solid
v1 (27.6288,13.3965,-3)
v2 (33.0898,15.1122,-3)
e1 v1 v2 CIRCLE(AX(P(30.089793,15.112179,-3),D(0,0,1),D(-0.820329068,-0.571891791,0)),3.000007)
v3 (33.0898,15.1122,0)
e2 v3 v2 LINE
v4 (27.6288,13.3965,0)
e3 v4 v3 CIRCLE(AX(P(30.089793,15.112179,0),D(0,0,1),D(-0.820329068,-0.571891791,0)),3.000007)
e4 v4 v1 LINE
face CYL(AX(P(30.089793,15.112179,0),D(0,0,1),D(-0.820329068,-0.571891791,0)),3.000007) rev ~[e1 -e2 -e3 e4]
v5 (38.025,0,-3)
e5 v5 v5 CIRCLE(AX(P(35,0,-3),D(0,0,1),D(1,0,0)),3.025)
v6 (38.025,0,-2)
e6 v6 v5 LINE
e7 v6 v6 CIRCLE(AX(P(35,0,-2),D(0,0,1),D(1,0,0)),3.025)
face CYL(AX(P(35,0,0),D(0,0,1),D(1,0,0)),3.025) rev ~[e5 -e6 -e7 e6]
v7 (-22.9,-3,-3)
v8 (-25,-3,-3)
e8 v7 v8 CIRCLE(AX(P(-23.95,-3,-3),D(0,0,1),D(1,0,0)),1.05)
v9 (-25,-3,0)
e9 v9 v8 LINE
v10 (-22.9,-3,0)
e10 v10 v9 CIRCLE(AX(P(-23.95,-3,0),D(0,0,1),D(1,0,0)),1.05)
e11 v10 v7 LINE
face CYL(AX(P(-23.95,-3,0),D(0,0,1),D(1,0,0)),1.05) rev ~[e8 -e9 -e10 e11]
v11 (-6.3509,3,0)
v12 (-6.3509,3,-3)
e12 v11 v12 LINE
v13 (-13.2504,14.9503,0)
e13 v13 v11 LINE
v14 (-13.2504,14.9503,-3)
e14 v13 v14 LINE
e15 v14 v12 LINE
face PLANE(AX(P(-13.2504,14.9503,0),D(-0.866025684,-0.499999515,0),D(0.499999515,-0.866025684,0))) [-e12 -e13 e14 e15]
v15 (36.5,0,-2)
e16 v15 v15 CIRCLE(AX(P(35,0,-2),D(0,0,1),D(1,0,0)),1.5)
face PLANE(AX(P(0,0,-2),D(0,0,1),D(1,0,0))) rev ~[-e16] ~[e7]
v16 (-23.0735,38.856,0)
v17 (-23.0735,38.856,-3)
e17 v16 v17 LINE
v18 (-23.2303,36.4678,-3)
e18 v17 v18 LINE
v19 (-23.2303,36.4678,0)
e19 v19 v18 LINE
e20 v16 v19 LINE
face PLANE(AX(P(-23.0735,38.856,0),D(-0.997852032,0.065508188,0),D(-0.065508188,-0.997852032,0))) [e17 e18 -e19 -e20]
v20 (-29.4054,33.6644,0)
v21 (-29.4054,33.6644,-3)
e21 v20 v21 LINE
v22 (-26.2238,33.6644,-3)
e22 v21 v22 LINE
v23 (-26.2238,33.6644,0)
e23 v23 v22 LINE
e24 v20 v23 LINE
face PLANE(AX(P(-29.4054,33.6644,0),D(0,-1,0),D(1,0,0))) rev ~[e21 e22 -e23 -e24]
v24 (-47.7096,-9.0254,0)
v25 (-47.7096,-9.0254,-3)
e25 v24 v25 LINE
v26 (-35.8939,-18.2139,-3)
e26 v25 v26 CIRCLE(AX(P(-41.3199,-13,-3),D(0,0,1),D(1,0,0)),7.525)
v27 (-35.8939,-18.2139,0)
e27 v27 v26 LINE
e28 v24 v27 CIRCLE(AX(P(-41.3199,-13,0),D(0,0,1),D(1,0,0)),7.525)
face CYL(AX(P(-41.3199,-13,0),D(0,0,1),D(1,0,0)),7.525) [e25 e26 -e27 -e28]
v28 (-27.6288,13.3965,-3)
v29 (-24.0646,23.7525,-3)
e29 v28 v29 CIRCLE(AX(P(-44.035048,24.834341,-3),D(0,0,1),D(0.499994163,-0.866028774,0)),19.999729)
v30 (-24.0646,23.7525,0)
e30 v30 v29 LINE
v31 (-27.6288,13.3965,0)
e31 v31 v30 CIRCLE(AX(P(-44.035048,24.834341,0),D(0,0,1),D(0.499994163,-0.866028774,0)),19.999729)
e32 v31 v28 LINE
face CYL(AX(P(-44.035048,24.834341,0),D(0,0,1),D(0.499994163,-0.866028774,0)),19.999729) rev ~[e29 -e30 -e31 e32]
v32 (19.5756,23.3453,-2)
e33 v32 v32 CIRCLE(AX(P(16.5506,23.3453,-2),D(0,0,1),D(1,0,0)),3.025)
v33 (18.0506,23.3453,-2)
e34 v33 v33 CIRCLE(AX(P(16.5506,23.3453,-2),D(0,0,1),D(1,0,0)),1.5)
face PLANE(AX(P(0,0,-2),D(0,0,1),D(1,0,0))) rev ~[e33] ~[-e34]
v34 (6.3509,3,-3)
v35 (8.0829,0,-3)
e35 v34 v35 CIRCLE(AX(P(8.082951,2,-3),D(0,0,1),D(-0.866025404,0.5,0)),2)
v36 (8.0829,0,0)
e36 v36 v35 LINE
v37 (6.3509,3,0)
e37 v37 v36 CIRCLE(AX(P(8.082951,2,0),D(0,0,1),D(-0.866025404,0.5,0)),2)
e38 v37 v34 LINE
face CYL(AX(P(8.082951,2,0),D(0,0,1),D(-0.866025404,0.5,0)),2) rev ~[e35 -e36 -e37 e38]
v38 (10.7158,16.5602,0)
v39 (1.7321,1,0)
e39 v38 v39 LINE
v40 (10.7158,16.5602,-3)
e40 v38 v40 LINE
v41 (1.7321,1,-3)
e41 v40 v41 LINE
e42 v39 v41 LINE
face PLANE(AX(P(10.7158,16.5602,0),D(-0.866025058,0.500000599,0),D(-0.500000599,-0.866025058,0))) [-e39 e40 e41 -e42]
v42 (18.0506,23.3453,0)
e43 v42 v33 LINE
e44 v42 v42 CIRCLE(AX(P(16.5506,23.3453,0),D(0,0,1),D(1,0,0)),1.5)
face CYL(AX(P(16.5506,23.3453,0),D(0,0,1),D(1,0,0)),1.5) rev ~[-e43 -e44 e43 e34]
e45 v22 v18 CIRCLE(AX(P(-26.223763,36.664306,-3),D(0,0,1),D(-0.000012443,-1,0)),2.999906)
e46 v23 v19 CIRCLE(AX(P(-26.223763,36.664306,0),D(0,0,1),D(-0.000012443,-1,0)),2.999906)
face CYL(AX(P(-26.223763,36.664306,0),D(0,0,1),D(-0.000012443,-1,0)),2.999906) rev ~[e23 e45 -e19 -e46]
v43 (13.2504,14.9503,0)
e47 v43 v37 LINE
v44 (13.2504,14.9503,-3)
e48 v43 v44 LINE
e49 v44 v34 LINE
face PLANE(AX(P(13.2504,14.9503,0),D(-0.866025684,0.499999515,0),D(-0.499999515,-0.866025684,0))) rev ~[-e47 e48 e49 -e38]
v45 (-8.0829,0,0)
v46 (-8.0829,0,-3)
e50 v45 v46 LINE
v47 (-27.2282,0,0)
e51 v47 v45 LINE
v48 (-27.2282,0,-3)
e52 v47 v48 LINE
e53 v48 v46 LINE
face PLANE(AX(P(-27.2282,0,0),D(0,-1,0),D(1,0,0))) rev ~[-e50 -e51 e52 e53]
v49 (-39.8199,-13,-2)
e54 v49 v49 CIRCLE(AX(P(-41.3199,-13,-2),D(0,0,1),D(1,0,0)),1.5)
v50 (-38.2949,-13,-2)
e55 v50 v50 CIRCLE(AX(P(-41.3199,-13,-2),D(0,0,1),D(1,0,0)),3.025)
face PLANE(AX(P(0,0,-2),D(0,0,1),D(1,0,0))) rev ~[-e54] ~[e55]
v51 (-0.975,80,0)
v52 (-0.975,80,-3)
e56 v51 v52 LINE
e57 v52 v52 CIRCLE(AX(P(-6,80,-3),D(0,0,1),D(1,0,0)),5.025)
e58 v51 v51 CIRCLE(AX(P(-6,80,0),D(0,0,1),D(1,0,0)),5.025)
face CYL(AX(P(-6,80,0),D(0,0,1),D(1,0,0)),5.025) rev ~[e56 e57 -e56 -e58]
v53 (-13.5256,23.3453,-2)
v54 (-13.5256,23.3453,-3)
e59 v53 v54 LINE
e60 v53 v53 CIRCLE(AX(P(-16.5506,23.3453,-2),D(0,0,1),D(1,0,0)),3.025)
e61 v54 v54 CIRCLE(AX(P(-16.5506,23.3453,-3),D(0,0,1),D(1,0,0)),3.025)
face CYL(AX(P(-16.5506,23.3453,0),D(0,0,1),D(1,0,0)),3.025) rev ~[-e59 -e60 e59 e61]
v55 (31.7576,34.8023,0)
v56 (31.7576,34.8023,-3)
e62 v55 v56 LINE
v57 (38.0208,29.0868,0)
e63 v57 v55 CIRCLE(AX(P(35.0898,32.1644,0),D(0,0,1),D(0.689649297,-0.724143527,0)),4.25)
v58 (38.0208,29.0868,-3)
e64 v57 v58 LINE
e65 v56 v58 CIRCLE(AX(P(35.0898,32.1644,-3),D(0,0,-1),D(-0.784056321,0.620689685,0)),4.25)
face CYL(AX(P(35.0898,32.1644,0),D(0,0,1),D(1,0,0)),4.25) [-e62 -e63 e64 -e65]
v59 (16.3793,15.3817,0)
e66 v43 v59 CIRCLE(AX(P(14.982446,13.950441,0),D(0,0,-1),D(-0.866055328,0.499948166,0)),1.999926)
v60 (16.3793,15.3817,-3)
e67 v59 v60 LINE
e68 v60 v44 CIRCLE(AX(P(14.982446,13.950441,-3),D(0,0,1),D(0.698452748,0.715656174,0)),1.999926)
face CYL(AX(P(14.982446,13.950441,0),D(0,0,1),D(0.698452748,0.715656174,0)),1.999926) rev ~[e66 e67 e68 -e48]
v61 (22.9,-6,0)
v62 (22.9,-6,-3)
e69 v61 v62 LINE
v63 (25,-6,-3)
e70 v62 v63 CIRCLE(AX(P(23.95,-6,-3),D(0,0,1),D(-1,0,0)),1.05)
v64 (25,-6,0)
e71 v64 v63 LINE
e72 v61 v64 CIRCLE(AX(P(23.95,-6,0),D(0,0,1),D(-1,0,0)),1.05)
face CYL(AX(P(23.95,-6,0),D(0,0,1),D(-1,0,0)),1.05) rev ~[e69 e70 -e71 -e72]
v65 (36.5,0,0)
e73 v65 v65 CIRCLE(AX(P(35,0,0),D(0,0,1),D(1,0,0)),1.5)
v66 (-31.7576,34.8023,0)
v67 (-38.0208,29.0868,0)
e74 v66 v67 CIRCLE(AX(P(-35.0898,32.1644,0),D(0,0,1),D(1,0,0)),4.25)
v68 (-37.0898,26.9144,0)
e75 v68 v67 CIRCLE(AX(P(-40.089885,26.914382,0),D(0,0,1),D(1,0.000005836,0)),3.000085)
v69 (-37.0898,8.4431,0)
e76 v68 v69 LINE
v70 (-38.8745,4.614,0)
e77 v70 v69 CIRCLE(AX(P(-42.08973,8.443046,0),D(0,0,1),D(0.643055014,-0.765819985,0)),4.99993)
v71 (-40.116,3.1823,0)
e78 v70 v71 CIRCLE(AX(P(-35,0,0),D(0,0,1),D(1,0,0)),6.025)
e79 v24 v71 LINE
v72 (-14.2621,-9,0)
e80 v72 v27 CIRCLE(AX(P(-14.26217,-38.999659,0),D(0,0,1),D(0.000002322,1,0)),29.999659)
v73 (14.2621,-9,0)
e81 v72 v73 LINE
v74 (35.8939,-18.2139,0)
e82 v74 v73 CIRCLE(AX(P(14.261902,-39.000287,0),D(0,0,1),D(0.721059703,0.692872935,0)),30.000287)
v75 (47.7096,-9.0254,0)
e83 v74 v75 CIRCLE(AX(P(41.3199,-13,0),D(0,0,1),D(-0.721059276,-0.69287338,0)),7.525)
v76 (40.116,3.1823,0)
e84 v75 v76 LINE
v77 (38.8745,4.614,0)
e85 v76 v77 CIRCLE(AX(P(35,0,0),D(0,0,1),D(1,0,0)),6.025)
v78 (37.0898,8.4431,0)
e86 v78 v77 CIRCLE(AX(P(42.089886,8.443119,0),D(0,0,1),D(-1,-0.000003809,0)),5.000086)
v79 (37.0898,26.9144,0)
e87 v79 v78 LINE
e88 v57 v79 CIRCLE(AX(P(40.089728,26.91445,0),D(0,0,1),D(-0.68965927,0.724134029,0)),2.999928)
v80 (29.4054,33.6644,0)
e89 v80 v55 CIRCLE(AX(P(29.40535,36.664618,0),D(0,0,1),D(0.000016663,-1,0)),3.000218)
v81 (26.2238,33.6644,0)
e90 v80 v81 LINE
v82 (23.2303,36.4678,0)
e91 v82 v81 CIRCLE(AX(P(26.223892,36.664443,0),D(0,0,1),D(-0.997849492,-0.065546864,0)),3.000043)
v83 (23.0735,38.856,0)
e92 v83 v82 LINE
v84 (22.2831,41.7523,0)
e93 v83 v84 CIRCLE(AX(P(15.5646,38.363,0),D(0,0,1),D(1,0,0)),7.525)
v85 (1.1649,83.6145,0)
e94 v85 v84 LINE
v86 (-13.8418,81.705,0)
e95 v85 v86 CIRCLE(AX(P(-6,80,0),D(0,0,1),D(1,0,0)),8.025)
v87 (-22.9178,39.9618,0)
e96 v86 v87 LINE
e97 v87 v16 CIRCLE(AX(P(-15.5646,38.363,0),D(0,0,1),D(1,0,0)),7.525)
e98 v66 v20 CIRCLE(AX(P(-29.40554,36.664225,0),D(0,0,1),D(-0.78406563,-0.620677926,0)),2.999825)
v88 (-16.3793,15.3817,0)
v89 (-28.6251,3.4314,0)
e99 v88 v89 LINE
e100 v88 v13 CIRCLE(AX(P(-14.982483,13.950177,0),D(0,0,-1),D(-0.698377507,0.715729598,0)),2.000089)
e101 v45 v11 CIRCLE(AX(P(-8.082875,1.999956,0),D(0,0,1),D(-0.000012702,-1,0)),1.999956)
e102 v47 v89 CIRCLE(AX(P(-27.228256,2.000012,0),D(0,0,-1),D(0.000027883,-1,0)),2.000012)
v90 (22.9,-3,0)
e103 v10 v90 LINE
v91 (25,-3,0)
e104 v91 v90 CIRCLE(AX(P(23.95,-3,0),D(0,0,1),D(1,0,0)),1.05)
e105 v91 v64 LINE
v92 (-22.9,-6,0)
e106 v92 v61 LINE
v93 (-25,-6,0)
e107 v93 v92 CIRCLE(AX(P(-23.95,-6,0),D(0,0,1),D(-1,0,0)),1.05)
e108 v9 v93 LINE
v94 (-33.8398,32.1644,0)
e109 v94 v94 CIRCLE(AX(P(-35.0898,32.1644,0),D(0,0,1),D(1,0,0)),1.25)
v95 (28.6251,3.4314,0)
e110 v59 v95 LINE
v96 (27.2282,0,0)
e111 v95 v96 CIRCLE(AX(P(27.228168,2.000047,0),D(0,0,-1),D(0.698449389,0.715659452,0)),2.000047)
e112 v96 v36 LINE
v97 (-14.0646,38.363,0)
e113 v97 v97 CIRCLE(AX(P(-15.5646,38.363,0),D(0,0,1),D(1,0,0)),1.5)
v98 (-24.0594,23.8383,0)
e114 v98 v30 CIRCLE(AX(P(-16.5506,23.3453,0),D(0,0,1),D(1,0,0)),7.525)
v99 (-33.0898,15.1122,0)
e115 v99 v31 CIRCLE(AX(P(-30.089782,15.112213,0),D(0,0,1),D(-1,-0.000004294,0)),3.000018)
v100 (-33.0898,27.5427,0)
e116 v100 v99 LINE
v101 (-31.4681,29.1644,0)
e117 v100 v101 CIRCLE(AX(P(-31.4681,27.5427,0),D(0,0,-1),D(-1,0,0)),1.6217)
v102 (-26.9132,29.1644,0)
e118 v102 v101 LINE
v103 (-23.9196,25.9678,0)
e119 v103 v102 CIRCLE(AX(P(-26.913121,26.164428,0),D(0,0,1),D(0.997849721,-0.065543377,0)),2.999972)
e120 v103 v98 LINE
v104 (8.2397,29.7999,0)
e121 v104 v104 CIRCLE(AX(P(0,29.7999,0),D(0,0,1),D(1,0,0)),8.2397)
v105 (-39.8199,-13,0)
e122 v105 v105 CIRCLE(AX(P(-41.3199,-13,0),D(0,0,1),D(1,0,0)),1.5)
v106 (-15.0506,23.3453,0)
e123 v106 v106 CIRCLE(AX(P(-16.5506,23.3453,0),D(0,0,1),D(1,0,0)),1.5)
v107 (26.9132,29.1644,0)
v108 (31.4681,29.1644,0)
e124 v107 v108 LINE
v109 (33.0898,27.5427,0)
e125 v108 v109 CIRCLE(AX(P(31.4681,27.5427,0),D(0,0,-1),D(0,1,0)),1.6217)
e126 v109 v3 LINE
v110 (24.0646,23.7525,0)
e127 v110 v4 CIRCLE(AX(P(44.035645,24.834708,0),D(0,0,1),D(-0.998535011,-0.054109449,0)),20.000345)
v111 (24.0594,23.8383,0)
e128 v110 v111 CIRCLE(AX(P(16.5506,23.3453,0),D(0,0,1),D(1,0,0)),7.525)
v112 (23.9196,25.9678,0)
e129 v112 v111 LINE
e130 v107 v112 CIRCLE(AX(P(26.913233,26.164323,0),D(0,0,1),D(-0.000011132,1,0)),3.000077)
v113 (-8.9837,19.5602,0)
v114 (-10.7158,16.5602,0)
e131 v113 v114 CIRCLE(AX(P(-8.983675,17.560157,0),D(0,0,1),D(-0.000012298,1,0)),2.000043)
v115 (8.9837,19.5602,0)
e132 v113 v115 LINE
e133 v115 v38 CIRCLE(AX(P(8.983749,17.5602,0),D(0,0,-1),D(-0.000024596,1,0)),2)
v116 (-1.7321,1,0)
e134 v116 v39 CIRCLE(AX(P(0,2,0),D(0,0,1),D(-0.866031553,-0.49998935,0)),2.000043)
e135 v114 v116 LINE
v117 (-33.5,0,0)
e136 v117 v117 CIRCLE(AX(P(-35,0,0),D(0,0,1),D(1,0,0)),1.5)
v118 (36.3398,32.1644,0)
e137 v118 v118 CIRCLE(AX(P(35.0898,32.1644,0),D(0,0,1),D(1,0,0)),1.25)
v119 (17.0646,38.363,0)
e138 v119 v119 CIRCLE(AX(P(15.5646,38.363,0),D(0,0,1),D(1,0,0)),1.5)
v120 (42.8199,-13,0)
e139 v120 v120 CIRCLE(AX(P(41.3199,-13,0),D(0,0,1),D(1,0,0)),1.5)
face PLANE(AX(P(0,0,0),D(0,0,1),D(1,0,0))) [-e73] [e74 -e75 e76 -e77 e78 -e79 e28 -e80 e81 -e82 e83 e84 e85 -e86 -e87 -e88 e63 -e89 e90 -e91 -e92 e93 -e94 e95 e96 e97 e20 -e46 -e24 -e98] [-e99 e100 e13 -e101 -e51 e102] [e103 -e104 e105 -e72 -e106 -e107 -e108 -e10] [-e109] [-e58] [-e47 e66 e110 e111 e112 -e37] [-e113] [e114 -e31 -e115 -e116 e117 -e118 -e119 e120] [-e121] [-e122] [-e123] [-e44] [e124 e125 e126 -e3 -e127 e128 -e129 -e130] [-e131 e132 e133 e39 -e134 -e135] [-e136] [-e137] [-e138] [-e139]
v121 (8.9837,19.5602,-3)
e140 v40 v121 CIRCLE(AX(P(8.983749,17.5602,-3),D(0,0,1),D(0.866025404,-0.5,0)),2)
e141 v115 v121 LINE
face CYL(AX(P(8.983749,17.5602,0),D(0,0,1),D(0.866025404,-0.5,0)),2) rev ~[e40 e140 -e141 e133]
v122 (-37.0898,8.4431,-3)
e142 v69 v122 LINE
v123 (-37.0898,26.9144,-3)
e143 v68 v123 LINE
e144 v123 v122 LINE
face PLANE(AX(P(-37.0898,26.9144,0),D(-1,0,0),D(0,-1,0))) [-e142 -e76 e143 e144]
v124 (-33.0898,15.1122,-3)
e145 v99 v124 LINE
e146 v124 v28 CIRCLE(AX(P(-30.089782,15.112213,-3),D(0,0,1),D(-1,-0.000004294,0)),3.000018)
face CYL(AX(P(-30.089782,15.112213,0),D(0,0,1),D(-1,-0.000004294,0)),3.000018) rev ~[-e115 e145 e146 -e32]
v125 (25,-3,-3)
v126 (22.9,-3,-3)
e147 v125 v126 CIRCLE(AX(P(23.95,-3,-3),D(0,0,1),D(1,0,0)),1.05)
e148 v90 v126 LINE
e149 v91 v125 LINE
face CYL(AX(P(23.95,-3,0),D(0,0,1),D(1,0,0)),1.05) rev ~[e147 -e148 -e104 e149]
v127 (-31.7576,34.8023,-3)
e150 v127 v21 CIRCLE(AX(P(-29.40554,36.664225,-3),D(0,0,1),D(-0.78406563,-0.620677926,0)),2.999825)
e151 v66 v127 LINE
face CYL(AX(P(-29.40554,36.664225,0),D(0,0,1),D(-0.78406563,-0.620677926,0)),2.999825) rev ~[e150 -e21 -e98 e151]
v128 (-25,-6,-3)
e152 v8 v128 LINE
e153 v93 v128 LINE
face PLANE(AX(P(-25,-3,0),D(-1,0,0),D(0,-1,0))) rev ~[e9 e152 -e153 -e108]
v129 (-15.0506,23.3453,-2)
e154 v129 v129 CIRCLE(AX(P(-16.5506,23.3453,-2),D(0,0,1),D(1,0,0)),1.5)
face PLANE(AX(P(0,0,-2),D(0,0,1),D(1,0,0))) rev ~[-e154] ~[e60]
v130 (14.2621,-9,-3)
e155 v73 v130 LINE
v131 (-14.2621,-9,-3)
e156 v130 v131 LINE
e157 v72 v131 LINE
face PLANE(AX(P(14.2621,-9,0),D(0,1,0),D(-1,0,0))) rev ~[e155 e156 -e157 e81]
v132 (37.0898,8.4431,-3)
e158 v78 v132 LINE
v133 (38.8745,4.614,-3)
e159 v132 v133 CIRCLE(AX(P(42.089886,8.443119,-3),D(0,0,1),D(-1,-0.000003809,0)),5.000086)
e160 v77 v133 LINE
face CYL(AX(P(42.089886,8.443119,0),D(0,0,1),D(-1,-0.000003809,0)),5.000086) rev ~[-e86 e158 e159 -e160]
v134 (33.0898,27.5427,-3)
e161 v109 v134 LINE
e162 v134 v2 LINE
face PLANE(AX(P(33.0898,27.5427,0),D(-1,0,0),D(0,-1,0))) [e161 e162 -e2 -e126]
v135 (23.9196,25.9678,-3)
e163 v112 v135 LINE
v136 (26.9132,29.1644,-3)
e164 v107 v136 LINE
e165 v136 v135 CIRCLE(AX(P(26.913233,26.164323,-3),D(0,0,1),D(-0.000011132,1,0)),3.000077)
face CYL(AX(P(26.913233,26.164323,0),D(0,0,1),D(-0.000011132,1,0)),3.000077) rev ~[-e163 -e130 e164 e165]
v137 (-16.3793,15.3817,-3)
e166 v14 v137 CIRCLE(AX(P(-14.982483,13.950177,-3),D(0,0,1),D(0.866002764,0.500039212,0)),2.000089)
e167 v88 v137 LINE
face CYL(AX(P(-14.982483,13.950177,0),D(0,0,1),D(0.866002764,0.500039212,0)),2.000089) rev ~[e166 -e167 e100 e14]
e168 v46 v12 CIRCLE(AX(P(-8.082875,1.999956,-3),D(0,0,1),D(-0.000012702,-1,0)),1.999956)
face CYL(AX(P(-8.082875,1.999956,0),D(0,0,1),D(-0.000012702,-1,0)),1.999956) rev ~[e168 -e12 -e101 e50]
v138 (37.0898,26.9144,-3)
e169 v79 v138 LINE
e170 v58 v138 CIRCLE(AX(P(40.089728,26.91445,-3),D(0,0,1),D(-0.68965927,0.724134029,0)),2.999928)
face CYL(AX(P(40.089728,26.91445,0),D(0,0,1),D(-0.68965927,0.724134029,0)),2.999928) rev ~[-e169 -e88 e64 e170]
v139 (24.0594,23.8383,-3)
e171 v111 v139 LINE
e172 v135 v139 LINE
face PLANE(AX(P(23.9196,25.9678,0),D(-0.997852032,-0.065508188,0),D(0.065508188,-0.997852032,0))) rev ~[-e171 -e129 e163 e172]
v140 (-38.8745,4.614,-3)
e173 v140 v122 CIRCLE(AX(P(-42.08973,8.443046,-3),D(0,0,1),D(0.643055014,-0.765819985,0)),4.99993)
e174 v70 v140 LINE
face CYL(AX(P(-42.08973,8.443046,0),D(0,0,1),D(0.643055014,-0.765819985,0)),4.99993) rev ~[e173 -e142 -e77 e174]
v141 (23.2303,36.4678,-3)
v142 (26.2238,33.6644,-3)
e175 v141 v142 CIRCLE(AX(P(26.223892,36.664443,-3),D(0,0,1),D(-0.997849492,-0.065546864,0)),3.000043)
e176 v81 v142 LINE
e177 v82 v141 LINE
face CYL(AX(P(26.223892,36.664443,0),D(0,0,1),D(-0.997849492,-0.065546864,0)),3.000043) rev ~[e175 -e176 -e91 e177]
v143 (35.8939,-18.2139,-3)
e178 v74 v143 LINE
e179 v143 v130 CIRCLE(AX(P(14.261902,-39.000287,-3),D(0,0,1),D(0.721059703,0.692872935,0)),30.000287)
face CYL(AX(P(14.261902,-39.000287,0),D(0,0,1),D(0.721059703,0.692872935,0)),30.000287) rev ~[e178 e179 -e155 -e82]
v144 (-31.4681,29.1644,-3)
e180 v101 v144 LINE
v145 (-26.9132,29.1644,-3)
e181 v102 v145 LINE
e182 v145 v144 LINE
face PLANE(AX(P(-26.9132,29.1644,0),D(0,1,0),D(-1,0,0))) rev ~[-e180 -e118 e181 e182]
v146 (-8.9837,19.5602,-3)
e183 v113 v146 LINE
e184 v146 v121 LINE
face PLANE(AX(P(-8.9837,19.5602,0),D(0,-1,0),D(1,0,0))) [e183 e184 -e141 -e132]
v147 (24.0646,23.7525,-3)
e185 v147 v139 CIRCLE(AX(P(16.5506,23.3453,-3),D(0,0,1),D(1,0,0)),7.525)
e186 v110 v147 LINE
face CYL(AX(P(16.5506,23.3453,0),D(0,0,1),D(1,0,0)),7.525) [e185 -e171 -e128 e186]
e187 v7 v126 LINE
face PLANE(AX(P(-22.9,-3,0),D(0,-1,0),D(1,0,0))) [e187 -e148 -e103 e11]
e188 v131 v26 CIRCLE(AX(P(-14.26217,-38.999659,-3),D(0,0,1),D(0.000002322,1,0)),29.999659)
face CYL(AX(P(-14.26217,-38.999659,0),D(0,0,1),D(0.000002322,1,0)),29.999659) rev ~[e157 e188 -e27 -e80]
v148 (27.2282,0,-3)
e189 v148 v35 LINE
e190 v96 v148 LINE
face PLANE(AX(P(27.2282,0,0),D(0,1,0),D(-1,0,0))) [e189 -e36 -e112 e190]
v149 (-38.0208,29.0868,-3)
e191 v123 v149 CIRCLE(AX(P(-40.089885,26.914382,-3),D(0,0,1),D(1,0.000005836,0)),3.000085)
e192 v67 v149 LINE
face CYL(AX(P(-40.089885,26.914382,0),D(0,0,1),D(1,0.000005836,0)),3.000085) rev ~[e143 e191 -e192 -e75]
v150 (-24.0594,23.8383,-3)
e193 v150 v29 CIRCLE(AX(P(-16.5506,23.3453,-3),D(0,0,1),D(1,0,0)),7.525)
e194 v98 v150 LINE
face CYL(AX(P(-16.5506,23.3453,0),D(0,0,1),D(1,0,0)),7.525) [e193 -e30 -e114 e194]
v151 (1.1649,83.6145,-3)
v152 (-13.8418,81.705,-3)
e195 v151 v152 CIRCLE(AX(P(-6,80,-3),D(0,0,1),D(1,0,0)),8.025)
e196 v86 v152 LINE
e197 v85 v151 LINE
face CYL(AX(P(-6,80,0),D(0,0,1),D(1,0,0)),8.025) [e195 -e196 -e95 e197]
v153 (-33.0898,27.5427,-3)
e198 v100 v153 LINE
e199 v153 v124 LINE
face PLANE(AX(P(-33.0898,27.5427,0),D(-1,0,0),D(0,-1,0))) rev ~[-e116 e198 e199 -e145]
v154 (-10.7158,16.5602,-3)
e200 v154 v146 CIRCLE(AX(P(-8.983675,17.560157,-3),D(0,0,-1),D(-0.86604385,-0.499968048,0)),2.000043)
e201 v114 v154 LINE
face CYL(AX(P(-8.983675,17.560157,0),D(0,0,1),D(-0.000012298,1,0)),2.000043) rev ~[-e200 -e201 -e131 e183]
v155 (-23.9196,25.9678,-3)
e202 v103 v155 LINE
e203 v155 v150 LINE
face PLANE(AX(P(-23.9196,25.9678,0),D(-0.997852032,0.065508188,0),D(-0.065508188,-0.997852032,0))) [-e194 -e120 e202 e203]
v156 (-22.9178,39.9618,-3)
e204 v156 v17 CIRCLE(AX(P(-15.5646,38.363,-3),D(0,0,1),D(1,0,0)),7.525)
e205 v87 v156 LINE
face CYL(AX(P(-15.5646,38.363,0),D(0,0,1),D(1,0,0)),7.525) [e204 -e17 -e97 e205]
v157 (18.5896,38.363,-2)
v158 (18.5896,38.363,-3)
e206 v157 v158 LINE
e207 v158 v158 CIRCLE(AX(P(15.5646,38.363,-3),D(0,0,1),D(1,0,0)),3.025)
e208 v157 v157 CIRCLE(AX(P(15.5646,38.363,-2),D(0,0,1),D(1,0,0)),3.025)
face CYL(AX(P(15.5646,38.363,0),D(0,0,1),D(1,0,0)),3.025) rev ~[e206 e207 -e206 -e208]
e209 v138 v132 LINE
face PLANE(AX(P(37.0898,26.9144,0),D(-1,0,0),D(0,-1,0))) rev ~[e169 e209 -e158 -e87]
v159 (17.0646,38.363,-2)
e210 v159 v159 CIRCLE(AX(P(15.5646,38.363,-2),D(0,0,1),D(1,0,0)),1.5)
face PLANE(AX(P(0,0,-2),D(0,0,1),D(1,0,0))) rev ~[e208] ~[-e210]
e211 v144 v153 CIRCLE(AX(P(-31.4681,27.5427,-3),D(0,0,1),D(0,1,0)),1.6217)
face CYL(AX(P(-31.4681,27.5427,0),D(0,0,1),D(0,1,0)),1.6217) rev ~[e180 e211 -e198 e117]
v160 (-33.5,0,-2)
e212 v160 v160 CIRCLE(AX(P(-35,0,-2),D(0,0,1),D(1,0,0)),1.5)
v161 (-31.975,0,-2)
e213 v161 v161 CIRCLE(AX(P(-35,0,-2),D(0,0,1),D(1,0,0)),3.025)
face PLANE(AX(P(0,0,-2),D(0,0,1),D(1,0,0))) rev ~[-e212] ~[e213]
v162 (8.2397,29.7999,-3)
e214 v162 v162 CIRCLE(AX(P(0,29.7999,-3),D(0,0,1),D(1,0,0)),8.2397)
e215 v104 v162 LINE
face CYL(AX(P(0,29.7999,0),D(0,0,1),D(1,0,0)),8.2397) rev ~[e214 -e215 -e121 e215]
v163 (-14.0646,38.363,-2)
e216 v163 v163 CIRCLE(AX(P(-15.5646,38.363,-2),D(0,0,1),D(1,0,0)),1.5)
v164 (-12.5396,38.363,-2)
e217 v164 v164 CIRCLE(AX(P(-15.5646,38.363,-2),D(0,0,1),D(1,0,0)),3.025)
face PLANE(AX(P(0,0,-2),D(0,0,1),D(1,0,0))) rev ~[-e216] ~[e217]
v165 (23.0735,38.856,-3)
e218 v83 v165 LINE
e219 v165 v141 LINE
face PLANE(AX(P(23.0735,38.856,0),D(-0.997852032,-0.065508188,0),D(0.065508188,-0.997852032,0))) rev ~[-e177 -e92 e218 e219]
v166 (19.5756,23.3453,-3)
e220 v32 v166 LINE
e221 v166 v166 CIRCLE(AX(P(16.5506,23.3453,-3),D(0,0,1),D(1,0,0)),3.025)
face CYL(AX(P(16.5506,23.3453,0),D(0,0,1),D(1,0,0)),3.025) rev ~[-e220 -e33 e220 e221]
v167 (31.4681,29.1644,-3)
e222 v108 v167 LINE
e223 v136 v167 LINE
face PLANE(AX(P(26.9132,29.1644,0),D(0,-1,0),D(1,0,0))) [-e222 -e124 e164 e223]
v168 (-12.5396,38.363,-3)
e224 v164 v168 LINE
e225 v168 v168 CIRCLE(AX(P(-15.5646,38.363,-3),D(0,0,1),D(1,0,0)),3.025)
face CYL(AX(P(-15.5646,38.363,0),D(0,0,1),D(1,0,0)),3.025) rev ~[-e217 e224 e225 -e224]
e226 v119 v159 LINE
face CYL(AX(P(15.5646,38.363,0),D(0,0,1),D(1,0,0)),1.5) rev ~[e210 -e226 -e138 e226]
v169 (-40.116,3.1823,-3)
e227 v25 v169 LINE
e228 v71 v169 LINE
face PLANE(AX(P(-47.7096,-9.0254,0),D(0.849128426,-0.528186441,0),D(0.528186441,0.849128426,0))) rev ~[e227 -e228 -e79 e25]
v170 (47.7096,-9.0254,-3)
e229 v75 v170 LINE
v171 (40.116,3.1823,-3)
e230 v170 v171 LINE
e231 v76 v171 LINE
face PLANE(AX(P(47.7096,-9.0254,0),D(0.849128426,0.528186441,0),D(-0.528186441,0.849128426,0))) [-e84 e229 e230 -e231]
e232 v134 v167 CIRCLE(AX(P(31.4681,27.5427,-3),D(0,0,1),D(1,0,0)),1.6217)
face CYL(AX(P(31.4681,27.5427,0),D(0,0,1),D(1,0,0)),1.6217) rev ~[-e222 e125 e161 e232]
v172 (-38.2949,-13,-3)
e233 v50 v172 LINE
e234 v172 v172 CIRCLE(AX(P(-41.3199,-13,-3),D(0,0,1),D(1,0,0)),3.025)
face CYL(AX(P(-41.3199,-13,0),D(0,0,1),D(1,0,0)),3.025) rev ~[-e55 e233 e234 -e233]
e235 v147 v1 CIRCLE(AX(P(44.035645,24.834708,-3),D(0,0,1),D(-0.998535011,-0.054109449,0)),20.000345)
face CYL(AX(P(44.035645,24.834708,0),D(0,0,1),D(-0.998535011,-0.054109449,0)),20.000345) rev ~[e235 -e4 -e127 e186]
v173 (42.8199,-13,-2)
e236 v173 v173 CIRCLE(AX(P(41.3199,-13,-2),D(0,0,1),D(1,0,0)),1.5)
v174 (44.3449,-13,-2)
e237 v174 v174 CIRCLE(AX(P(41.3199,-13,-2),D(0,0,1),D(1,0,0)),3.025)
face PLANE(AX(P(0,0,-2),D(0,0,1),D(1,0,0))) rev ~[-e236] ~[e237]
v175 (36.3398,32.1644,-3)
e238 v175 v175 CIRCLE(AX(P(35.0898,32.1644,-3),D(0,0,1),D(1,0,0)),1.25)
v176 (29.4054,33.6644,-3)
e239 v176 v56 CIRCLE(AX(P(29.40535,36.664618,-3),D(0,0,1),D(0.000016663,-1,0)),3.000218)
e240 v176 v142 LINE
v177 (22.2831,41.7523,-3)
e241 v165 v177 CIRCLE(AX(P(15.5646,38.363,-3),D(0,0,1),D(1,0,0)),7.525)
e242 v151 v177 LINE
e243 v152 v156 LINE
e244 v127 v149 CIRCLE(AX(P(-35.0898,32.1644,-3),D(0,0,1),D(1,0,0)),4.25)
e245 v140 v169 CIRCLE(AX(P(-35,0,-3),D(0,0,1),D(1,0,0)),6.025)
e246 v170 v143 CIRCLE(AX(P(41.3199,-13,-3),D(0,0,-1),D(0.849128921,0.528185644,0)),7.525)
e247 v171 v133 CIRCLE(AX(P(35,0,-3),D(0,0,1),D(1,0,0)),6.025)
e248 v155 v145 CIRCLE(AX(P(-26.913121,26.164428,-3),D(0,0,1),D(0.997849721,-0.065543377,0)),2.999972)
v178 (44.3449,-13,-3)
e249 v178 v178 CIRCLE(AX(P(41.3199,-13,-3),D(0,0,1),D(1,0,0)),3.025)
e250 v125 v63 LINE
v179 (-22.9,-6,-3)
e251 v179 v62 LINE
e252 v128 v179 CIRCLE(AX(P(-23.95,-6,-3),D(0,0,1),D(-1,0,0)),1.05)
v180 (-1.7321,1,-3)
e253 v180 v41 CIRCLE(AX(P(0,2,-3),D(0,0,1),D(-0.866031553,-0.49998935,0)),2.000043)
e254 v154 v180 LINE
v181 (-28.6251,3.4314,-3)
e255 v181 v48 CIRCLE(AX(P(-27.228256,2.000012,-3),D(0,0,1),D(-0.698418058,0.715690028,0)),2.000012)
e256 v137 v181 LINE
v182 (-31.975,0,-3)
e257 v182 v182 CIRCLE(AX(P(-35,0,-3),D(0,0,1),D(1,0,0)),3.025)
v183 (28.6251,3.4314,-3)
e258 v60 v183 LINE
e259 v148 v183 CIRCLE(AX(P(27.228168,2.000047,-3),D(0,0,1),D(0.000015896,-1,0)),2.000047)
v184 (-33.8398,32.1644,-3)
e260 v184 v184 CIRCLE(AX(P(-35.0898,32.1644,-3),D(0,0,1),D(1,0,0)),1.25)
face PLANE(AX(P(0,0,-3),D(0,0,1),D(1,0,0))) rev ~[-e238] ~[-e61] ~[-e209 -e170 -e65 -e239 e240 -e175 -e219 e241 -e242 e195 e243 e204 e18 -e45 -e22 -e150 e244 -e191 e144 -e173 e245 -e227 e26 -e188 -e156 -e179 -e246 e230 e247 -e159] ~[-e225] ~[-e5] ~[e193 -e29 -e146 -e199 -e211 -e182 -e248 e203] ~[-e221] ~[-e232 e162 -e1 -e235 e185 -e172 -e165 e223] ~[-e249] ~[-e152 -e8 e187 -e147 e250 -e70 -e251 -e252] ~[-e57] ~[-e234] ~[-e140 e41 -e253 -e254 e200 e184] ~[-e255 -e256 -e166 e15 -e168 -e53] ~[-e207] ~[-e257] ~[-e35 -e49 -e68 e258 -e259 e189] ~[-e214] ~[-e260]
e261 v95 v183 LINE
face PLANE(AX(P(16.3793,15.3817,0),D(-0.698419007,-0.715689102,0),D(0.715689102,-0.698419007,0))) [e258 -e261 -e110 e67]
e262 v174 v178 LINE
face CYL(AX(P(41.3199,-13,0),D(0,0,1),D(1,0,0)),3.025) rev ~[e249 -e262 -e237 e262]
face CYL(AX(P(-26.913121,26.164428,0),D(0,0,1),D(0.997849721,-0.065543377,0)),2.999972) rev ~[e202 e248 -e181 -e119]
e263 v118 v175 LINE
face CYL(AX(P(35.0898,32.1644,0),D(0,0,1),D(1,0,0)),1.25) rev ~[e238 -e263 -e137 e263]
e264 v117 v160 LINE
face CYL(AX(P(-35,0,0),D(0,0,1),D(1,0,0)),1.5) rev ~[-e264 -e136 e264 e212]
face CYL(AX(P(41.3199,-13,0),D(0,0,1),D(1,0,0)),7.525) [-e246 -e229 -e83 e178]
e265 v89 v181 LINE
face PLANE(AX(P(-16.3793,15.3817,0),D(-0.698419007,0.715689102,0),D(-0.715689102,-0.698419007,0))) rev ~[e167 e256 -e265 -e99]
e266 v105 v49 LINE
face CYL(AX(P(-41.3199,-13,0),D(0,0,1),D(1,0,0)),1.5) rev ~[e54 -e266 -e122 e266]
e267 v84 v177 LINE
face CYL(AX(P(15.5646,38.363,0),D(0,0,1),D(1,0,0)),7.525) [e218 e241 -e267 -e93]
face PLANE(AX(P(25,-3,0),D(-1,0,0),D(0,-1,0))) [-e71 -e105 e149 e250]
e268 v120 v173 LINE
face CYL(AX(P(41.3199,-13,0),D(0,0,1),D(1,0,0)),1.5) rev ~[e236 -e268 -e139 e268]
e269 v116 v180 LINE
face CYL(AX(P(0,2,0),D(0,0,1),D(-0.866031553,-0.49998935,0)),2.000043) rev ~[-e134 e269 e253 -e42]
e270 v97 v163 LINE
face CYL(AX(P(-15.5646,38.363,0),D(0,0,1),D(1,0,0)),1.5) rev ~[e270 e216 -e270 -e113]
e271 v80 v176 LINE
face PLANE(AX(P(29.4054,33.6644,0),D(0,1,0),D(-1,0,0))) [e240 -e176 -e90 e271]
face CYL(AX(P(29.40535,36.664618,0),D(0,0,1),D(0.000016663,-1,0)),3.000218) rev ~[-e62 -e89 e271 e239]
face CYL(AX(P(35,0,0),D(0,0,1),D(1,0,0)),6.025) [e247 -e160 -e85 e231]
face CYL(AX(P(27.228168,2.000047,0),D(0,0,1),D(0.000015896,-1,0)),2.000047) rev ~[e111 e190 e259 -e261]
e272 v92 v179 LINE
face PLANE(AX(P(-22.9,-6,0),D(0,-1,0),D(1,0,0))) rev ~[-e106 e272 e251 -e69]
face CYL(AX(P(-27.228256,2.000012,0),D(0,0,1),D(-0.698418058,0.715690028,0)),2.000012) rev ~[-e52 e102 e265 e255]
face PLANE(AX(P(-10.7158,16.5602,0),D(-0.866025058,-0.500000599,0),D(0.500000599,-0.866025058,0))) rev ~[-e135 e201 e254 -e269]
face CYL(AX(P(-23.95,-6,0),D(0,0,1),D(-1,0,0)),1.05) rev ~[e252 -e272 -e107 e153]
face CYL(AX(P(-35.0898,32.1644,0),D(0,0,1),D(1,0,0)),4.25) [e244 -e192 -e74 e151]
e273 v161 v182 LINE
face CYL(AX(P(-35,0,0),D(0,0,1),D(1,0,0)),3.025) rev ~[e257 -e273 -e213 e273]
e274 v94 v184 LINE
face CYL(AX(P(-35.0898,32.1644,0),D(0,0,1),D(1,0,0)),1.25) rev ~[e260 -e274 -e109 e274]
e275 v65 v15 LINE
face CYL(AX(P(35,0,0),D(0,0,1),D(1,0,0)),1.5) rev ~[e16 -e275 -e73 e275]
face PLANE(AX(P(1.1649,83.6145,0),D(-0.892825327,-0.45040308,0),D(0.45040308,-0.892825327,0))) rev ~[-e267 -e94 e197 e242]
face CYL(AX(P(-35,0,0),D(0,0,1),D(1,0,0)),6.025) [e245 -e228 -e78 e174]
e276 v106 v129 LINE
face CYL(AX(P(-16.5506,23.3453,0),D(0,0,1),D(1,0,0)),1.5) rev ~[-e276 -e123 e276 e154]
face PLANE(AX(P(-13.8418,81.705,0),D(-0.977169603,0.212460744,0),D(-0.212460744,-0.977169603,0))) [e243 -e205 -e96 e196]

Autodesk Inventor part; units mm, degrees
ref_plane "YZ Plane" through (0, 0, 0) normal (1, 0, 0) x (0, 1, 0)
ref_plane "XZ Plane" through (0, 0, 0) normal (0, 1, 0) x (-1, 0, 0)
ref_plane "XY Plane" through (0, 0, 0) normal (0, 0, 1) x (1, 0, 0)
sketch "Sketch2" plane through (0, 0, 0) normal (0, 0, 1) x (1, 0, 0)
  line L0 (0, 0) -> (0, 5.2095) construction
  circle A0 centre (0, 29.7999) radius 10.2397 construction
  arc A1 (-8.9837, 19.5602) -> (-10.7158, 16.5602) centre (-8.9837, 17.5602) ccw
  line L1 (-8.9837, 19.5602) -> (8.9837, 19.5602)
  arc A2 (10.7158, 16.5602) -> (8.9837, 19.5602) centre (8.9837, 17.5602) ccw
  line L2 (-10.7158, 16.5602) -> (-1.7321, 1)
  line L3 (10.7158, 16.5602) -> (1.7321, 1)
  arc A3 (-1.7321, 1) -> (1.7321, 1) centre (0, 2) ccw
  line L4 (-25, -4.5) -> (25, -4.5) construction
  line L5 (-23.95, -3) -> (-23.95, -6) construction
  line L6 (-25, -3) -> (-25, -6)
  line L7 (-22.9, -6) -> (-22.9, -3) construction
  arc A4 (-22.9, -3) -> (-25, -3) centre (-23.95, -3) ccw
  arc A5 (-25, -6) -> (-22.9, -6) centre (-23.95, -6) ccw
  arc A6 (25, -3) -> (22.9, -3) centre (23.95, -3) ccw
  line L8 (25, -3) -> (25, -6)
  arc A7 (22.9, -6) -> (25, -6) centre (23.95, -6) ccw
  line L9 (16.3793, 15.3817) -> (28.6251, 3.4314)
  arc A8 (27.2282, 0) -> (28.6251, 3.4314) centre (27.2282, 2) ccw
  line L10 (27.2282, 0) -> (8.0829, 0)
  line L11 (-25, -3) -> (-23.95, -3) construction
  line L12 (-22.9, -3) -> (22.9, -3)
  line L13 (-25, -6) -> (-23.95, -6) construction
  line L14 (-22.9, -6) -> (22.9, -6)
  line L15 (-26.5636, -1.95) -> (-22.5758, -1.95) construction
  line L16 (14.2621, -9) -> (0, -9)
  line L17 (-16.3793, 15.3817) -> (-28.6251, 3.4314)
  line L18 (-27.2282, 0) -> (-8.0829, 0)
  arc A9 (-28.6251, 3.4314) -> (-27.2282, 0) centre (-27.2282, 2) ccw
  line L19 (-14.2621, -9) -> (0, -9)
  arc A10 (16.3793, 15.3817) -> (13.2504, 14.9503) centre (14.9824, 13.9503) ccw
  line L20 (13.2504, 14.9503) -> (6.3509, 3)
  arc A11 (6.3509, 3) -> (8.0829, 0) centre (8.0829, 2) ccw
  arc A12 (-13.2504, 14.9503) -> (-16.3793, 15.3817) centre (-14.9824, 13.9503) ccw
  line L21 (-13.2504, 14.9503) -> (-6.3509, 3)
  arc A13 (-8.0829, 0) -> (-6.3509, 3) centre (-8.0829, 2) ccw
  circle A14 centre (16.5506, 23.3453) radius 7.525
  circle A15 centre (15.5646, 38.363) radius 7.525
  line L22 (34.0353, 7.514) -> (38.0125, 5.2178)
  circle A16 centre (41.3199, -13) radius 7.525
  line L23 (15.5646, 45.888) -> (7.3682, 45.888)
  line L24 (-15.5646, 45.888) -> (7.3682, 45.888)
  line L25 (-14.2621, -9) -> (0, -9)
  circle A17 centre (35, 0) radius 1.5
  circle A18 centre (35, 0) radius 3.025
  circle A19 centre (35, 0) radius 6.025
  circle A20 centre (-35, 0) radius 6.025
  circle A21 centre (-35, 0) radius 3.025
  circle A22 centre (-35, 0) radius 1.5
  circle A23 centre (16.5506, 23.3453) radius 3.025
  circle A24 centre (41.3199, -13) radius 3.025
  line L26 (47.7096, -9.0254) -> (40.116, 3.1823)
  line L27 (-20.812, -60) -> (26.178, -60)
  circle A25 centre (-6, 80) radius 5.025
  circle A26 centre (-6, 80) radius 8.025
  arc A27 (35.8939, -18.2139) -> (14.2621, -9) centre (14.2621, -39) ccw
  circle A28 centre (0, 29.7999) radius 8.2397
  arc A29 (26.1288, 47.4363) -> (20.0049, 23.2712) centre (35.6549, 32.1637) ccw construction
  line L28 (22.3769, 18.583) -> (19.6218, 23.982) construction
  arc A30 (61.1577, -34.4951) -> (56.1103, -14.552) centre (52.6424, -26.04) ccw construction
  arc A31 (61.1577, -34.4951) -> (60.8311, -36.8802) centre (62.5769, -35.9043) ccw construction
  arc A32 (60.8311, -36.8802) -> (78.0598, -53.6221) centre (97.4928, -16.3882) ccw construction
  arc A33 (53.2941, -13.5379) -> (56.1103, -14.552) centre (64.3583, 12.7718) ccw construction
  arc A34 (26.0209, 0.9091) -> (22.8953, 17.5672) centre (-3.8265, 3.9311) ccw construction
  arc A35 (53.2941, -13.5379) -> (34.3508, -9.0016) centre (30.0348, -68.8462) ccw construction
  circle A36 centre (15.5646, 38.363) radius 1.5
  circle A37 centre (15.5646, 38.363) radius 3.025
  line L29 (23.0735, 38.856) -> (24.0594, 23.8383)
  circle A38 centre (16.5506, 23.3453) radius 1.5
  circle A39 centre (41.3199, -13) radius 1.5
  circle A40 centre (-41.3199, -13) radius 7.525
  circle A41 centre (-41.3199, -13) radius 3.025
  circle A42 centre (-41.3199, -13) radius 1.5
  circle A43 centre (-35, 0) radius 6.025
  circle A44 centre (-35, 0) radius 3.025
  circle A45 centre (-35, 0) radius 1.5
  circle A46 centre (-16.5506, 23.3453) radius 7.525
  circle A47 centre (-16.5506, 23.3453) radius 1.5
  circle A48 centre (-16.5506, 23.3453) radius 3.025
  circle A49 centre (-15.5646, 38.363) radius 7.525
  circle A50 centre (-15.5646, 38.363) radius 3.025
  circle A51 centre (-15.5646, 38.363) radius 1.5
  arc A52 (-14.2621, -9) -> (-35.8939, -18.2139) centre (-14.2621, -39) ccw
  line L30 (-47.7096, -9.0254) -> (-40.116, 3.1823)
  line L31 (-34.0353, 7.514) -> (-38.0125, 5.2178)
  line L32 (-23.0735, 38.856) -> (-24.0594, 23.8383)
  arc A53 (24.0646, 23.7525) -> (34.0353, 7.514) centre (44.0353, 24.8346) ccw
  arc A54 (-34.0353, 7.514) -> (-24.0646, 23.7525) centre (-44.0353, 24.8346) ccw
  circle A55 centre (35.0898, 32.1644) radius 1.25
  circle A56 centre (35.0898, 32.1644) radius 4.25
  line L33 (35.0898, 32.1644) -> (22.0882, 32.1644) construction
  line L34 (29.4054, 33.6644) -> (26.2238, 33.6644)
  arc A57 (29.4054, 33.6644) -> (31.7576, 34.8023) centre (29.4054, 36.6644) ccw
  arc A58 (23.2303, 36.4678) -> (26.2238, 33.6644) centre (26.2238, 36.6644) ccw
  line L35 (26.9132, 29.1644) -> (31.4681, 29.1644)
  line L36 (35.0898, 32.1644) -> (35.0898, 8.7801) construction
  arc A59 (33.0898, 27.5427) -> (31.4681, 29.1644) centre (31.4681, 27.5427) ccw
  line L37 (33.0898, 27.5427) -> (33.0898, 15.1122)
  arc A60 (26.9132, 29.1644) -> (23.9196, 25.9678) centre (26.9132, 26.1644) ccw
  arc A61 (27.6288, 13.3965) -> (33.0898, 15.1122) centre (30.0898, 15.1122) ccw
  line L38 (37.0898, 26.9144) -> (37.0898, 8.4431)
  arc A62 (37.0898, 8.4431) -> (38.8745, 4.614) centre (42.0898, 8.4431) ccw
  arc A63 (38.0208, 29.0868) -> (37.0898, 26.9144) centre (40.0898, 26.9144) ccw
  arc A64 (-38.8745, 4.614) -> (-37.0898, 8.4431) centre (-42.0898, 8.4431) ccw
  line L39 (-37.0898, 26.9144) -> (-37.0898, 8.4431)
  arc A65 (-33.0898, 15.1122) -> (-27.6288, 13.3965) centre (-30.0898, 15.1122) ccw
  line L40 (-33.0898, 27.5427) -> (-33.0898, 15.1122)
  circle A66 centre (-35.0898, 32.1644) radius 4.25
  arc A67 (-37.0898, 26.9144) -> (-38.0208, 29.0868) centre (-40.0898, 26.9144) ccw
  arc A68 (-31.4681, 29.1644) -> (-33.0898, 27.5427) centre (-31.4681, 27.5427) ccw
  line L41 (-26.9132, 29.1644) -> (-31.4681, 29.1644)
  arc A69 (-23.9196, 25.9678) -> (-26.9132, 29.1644) centre (-26.9132, 26.1644) ccw
  arc A70 (-26.2238, 33.6644) -> (-23.2303, 36.4678) centre (-26.2238, 36.6644) ccw
  line L42 (-29.4054, 33.6644) -> (-26.2238, 33.6644)
  arc A71 (-31.7576, 34.8023) -> (-29.4054, 33.6644) centre (-29.4054, 36.6644) ccw
  circle A72 centre (-35.0898, 32.1644) radius 1.25
  line L43 (-13.8418, 81.705) -> (-22.9178, 39.9618)
  line L44 (1.1649, 83.6145) -> (22.2831, 41.7523)
  point P0 (-23.95, -4.5)
  point P1 (0, 0)
  point P2 (-38.8745, 4.614)
  point P3 (-40.116, 3.1823)
  point P4 (-35.8939, -18.2139)
  point P5 (-27.6288, 13.3965)
  dimension "d361" = 2
  dimension "d362" = 2
  dimension "d363" = 30
  dimension "d364" = 2
  dimension "d365" = 50
  dimension "d366" = 3
  dimension "d367" = 2.1
  dimension "d368" = 25
  dimension "d369" = 2
  dimension "d370" = 60
  dimension "d371" = 3
  dimension "d372" = 2
  dimension "d373" = 2
  dimension "d374" = 3
  dimension "d375" = 3
  dimension "d376" = 6.05
  dimension "d377" = 3
  dimension "d378" = 30
  dimension "d379" = 6.05
  dimension "d380" = 6.05
  dimension "d381" = 60
  dimension "d382" = 10.05
  dimension "d383" = 3
  dimension "d384" = 4.5
  dimension "d385" = 30
  dimension "d386" = 2
  dimension "d387" = 3
  dimension "d388" = 6.05
  dimension "d389" = 4.5
  dimension "d390" = 4.5
  dimension "d391" = 4.5
  dimension "d392" = 13
  dimension "d393" = 3
  dimension "d394" = 3
  dimension "d395" = 20
  dimension "d396" = 6
  dimension "d397" = 80
  dimension "d398" = 2.5
  dimension "d399" = 3
  dimension "d400" = 1.5
  dimension "d401" = 3
  dimension "d402" = 3
  dimension "d403" = 2
  dimension "d404" = 3
  dimension "d405" = 3
  dimension "d406" = 3
  dimension "d407" = 5
  dimension "d408" = 2
  dimension "d409" = 3
extrude "Extrusion7" add sketch "Sketch2" against normal blind 3 contours A1 A46 A49 L24 L23 A15 A14 A2 L1 | A1 L2 A3 L3 A2 A14 A10 L20 A11 L10 A8 A19 L26 A16 A27 L16 L19 A52 A40 L30 A20 A9 L18 A13 L21 A12 A46 | A46 | A12 L17 A9 A20 L31 A54 A46 | A14 | A46 L32 A49 | A49 | A15 L29 A14 | A15 | A14 A53 L22 A19 A8 L9 A10 | A54 L31 A20 A64 L39 A67 A66 A68 L40 A65 | L23 L24 A49 L43 A26 L44 A15 | A20 | A69 L41 A68 A66 A71 L42 A70 L32 | L29 A58 L34 A57 A56 A59 L35 A60 | A26 | A61 L37 A59 A56 A63 L38 A62 A19 L22 A53 | A19 | A66 | A40 | A56 | A16
extrude "Extrusion8" add sketch "Sketch2" against normal blind 2 contours A18 | A21 | A23 | A24 | A37 | A41 | A48 | A50
properties part number "中間ユニット内" material "Aluminum 2014-T6"
